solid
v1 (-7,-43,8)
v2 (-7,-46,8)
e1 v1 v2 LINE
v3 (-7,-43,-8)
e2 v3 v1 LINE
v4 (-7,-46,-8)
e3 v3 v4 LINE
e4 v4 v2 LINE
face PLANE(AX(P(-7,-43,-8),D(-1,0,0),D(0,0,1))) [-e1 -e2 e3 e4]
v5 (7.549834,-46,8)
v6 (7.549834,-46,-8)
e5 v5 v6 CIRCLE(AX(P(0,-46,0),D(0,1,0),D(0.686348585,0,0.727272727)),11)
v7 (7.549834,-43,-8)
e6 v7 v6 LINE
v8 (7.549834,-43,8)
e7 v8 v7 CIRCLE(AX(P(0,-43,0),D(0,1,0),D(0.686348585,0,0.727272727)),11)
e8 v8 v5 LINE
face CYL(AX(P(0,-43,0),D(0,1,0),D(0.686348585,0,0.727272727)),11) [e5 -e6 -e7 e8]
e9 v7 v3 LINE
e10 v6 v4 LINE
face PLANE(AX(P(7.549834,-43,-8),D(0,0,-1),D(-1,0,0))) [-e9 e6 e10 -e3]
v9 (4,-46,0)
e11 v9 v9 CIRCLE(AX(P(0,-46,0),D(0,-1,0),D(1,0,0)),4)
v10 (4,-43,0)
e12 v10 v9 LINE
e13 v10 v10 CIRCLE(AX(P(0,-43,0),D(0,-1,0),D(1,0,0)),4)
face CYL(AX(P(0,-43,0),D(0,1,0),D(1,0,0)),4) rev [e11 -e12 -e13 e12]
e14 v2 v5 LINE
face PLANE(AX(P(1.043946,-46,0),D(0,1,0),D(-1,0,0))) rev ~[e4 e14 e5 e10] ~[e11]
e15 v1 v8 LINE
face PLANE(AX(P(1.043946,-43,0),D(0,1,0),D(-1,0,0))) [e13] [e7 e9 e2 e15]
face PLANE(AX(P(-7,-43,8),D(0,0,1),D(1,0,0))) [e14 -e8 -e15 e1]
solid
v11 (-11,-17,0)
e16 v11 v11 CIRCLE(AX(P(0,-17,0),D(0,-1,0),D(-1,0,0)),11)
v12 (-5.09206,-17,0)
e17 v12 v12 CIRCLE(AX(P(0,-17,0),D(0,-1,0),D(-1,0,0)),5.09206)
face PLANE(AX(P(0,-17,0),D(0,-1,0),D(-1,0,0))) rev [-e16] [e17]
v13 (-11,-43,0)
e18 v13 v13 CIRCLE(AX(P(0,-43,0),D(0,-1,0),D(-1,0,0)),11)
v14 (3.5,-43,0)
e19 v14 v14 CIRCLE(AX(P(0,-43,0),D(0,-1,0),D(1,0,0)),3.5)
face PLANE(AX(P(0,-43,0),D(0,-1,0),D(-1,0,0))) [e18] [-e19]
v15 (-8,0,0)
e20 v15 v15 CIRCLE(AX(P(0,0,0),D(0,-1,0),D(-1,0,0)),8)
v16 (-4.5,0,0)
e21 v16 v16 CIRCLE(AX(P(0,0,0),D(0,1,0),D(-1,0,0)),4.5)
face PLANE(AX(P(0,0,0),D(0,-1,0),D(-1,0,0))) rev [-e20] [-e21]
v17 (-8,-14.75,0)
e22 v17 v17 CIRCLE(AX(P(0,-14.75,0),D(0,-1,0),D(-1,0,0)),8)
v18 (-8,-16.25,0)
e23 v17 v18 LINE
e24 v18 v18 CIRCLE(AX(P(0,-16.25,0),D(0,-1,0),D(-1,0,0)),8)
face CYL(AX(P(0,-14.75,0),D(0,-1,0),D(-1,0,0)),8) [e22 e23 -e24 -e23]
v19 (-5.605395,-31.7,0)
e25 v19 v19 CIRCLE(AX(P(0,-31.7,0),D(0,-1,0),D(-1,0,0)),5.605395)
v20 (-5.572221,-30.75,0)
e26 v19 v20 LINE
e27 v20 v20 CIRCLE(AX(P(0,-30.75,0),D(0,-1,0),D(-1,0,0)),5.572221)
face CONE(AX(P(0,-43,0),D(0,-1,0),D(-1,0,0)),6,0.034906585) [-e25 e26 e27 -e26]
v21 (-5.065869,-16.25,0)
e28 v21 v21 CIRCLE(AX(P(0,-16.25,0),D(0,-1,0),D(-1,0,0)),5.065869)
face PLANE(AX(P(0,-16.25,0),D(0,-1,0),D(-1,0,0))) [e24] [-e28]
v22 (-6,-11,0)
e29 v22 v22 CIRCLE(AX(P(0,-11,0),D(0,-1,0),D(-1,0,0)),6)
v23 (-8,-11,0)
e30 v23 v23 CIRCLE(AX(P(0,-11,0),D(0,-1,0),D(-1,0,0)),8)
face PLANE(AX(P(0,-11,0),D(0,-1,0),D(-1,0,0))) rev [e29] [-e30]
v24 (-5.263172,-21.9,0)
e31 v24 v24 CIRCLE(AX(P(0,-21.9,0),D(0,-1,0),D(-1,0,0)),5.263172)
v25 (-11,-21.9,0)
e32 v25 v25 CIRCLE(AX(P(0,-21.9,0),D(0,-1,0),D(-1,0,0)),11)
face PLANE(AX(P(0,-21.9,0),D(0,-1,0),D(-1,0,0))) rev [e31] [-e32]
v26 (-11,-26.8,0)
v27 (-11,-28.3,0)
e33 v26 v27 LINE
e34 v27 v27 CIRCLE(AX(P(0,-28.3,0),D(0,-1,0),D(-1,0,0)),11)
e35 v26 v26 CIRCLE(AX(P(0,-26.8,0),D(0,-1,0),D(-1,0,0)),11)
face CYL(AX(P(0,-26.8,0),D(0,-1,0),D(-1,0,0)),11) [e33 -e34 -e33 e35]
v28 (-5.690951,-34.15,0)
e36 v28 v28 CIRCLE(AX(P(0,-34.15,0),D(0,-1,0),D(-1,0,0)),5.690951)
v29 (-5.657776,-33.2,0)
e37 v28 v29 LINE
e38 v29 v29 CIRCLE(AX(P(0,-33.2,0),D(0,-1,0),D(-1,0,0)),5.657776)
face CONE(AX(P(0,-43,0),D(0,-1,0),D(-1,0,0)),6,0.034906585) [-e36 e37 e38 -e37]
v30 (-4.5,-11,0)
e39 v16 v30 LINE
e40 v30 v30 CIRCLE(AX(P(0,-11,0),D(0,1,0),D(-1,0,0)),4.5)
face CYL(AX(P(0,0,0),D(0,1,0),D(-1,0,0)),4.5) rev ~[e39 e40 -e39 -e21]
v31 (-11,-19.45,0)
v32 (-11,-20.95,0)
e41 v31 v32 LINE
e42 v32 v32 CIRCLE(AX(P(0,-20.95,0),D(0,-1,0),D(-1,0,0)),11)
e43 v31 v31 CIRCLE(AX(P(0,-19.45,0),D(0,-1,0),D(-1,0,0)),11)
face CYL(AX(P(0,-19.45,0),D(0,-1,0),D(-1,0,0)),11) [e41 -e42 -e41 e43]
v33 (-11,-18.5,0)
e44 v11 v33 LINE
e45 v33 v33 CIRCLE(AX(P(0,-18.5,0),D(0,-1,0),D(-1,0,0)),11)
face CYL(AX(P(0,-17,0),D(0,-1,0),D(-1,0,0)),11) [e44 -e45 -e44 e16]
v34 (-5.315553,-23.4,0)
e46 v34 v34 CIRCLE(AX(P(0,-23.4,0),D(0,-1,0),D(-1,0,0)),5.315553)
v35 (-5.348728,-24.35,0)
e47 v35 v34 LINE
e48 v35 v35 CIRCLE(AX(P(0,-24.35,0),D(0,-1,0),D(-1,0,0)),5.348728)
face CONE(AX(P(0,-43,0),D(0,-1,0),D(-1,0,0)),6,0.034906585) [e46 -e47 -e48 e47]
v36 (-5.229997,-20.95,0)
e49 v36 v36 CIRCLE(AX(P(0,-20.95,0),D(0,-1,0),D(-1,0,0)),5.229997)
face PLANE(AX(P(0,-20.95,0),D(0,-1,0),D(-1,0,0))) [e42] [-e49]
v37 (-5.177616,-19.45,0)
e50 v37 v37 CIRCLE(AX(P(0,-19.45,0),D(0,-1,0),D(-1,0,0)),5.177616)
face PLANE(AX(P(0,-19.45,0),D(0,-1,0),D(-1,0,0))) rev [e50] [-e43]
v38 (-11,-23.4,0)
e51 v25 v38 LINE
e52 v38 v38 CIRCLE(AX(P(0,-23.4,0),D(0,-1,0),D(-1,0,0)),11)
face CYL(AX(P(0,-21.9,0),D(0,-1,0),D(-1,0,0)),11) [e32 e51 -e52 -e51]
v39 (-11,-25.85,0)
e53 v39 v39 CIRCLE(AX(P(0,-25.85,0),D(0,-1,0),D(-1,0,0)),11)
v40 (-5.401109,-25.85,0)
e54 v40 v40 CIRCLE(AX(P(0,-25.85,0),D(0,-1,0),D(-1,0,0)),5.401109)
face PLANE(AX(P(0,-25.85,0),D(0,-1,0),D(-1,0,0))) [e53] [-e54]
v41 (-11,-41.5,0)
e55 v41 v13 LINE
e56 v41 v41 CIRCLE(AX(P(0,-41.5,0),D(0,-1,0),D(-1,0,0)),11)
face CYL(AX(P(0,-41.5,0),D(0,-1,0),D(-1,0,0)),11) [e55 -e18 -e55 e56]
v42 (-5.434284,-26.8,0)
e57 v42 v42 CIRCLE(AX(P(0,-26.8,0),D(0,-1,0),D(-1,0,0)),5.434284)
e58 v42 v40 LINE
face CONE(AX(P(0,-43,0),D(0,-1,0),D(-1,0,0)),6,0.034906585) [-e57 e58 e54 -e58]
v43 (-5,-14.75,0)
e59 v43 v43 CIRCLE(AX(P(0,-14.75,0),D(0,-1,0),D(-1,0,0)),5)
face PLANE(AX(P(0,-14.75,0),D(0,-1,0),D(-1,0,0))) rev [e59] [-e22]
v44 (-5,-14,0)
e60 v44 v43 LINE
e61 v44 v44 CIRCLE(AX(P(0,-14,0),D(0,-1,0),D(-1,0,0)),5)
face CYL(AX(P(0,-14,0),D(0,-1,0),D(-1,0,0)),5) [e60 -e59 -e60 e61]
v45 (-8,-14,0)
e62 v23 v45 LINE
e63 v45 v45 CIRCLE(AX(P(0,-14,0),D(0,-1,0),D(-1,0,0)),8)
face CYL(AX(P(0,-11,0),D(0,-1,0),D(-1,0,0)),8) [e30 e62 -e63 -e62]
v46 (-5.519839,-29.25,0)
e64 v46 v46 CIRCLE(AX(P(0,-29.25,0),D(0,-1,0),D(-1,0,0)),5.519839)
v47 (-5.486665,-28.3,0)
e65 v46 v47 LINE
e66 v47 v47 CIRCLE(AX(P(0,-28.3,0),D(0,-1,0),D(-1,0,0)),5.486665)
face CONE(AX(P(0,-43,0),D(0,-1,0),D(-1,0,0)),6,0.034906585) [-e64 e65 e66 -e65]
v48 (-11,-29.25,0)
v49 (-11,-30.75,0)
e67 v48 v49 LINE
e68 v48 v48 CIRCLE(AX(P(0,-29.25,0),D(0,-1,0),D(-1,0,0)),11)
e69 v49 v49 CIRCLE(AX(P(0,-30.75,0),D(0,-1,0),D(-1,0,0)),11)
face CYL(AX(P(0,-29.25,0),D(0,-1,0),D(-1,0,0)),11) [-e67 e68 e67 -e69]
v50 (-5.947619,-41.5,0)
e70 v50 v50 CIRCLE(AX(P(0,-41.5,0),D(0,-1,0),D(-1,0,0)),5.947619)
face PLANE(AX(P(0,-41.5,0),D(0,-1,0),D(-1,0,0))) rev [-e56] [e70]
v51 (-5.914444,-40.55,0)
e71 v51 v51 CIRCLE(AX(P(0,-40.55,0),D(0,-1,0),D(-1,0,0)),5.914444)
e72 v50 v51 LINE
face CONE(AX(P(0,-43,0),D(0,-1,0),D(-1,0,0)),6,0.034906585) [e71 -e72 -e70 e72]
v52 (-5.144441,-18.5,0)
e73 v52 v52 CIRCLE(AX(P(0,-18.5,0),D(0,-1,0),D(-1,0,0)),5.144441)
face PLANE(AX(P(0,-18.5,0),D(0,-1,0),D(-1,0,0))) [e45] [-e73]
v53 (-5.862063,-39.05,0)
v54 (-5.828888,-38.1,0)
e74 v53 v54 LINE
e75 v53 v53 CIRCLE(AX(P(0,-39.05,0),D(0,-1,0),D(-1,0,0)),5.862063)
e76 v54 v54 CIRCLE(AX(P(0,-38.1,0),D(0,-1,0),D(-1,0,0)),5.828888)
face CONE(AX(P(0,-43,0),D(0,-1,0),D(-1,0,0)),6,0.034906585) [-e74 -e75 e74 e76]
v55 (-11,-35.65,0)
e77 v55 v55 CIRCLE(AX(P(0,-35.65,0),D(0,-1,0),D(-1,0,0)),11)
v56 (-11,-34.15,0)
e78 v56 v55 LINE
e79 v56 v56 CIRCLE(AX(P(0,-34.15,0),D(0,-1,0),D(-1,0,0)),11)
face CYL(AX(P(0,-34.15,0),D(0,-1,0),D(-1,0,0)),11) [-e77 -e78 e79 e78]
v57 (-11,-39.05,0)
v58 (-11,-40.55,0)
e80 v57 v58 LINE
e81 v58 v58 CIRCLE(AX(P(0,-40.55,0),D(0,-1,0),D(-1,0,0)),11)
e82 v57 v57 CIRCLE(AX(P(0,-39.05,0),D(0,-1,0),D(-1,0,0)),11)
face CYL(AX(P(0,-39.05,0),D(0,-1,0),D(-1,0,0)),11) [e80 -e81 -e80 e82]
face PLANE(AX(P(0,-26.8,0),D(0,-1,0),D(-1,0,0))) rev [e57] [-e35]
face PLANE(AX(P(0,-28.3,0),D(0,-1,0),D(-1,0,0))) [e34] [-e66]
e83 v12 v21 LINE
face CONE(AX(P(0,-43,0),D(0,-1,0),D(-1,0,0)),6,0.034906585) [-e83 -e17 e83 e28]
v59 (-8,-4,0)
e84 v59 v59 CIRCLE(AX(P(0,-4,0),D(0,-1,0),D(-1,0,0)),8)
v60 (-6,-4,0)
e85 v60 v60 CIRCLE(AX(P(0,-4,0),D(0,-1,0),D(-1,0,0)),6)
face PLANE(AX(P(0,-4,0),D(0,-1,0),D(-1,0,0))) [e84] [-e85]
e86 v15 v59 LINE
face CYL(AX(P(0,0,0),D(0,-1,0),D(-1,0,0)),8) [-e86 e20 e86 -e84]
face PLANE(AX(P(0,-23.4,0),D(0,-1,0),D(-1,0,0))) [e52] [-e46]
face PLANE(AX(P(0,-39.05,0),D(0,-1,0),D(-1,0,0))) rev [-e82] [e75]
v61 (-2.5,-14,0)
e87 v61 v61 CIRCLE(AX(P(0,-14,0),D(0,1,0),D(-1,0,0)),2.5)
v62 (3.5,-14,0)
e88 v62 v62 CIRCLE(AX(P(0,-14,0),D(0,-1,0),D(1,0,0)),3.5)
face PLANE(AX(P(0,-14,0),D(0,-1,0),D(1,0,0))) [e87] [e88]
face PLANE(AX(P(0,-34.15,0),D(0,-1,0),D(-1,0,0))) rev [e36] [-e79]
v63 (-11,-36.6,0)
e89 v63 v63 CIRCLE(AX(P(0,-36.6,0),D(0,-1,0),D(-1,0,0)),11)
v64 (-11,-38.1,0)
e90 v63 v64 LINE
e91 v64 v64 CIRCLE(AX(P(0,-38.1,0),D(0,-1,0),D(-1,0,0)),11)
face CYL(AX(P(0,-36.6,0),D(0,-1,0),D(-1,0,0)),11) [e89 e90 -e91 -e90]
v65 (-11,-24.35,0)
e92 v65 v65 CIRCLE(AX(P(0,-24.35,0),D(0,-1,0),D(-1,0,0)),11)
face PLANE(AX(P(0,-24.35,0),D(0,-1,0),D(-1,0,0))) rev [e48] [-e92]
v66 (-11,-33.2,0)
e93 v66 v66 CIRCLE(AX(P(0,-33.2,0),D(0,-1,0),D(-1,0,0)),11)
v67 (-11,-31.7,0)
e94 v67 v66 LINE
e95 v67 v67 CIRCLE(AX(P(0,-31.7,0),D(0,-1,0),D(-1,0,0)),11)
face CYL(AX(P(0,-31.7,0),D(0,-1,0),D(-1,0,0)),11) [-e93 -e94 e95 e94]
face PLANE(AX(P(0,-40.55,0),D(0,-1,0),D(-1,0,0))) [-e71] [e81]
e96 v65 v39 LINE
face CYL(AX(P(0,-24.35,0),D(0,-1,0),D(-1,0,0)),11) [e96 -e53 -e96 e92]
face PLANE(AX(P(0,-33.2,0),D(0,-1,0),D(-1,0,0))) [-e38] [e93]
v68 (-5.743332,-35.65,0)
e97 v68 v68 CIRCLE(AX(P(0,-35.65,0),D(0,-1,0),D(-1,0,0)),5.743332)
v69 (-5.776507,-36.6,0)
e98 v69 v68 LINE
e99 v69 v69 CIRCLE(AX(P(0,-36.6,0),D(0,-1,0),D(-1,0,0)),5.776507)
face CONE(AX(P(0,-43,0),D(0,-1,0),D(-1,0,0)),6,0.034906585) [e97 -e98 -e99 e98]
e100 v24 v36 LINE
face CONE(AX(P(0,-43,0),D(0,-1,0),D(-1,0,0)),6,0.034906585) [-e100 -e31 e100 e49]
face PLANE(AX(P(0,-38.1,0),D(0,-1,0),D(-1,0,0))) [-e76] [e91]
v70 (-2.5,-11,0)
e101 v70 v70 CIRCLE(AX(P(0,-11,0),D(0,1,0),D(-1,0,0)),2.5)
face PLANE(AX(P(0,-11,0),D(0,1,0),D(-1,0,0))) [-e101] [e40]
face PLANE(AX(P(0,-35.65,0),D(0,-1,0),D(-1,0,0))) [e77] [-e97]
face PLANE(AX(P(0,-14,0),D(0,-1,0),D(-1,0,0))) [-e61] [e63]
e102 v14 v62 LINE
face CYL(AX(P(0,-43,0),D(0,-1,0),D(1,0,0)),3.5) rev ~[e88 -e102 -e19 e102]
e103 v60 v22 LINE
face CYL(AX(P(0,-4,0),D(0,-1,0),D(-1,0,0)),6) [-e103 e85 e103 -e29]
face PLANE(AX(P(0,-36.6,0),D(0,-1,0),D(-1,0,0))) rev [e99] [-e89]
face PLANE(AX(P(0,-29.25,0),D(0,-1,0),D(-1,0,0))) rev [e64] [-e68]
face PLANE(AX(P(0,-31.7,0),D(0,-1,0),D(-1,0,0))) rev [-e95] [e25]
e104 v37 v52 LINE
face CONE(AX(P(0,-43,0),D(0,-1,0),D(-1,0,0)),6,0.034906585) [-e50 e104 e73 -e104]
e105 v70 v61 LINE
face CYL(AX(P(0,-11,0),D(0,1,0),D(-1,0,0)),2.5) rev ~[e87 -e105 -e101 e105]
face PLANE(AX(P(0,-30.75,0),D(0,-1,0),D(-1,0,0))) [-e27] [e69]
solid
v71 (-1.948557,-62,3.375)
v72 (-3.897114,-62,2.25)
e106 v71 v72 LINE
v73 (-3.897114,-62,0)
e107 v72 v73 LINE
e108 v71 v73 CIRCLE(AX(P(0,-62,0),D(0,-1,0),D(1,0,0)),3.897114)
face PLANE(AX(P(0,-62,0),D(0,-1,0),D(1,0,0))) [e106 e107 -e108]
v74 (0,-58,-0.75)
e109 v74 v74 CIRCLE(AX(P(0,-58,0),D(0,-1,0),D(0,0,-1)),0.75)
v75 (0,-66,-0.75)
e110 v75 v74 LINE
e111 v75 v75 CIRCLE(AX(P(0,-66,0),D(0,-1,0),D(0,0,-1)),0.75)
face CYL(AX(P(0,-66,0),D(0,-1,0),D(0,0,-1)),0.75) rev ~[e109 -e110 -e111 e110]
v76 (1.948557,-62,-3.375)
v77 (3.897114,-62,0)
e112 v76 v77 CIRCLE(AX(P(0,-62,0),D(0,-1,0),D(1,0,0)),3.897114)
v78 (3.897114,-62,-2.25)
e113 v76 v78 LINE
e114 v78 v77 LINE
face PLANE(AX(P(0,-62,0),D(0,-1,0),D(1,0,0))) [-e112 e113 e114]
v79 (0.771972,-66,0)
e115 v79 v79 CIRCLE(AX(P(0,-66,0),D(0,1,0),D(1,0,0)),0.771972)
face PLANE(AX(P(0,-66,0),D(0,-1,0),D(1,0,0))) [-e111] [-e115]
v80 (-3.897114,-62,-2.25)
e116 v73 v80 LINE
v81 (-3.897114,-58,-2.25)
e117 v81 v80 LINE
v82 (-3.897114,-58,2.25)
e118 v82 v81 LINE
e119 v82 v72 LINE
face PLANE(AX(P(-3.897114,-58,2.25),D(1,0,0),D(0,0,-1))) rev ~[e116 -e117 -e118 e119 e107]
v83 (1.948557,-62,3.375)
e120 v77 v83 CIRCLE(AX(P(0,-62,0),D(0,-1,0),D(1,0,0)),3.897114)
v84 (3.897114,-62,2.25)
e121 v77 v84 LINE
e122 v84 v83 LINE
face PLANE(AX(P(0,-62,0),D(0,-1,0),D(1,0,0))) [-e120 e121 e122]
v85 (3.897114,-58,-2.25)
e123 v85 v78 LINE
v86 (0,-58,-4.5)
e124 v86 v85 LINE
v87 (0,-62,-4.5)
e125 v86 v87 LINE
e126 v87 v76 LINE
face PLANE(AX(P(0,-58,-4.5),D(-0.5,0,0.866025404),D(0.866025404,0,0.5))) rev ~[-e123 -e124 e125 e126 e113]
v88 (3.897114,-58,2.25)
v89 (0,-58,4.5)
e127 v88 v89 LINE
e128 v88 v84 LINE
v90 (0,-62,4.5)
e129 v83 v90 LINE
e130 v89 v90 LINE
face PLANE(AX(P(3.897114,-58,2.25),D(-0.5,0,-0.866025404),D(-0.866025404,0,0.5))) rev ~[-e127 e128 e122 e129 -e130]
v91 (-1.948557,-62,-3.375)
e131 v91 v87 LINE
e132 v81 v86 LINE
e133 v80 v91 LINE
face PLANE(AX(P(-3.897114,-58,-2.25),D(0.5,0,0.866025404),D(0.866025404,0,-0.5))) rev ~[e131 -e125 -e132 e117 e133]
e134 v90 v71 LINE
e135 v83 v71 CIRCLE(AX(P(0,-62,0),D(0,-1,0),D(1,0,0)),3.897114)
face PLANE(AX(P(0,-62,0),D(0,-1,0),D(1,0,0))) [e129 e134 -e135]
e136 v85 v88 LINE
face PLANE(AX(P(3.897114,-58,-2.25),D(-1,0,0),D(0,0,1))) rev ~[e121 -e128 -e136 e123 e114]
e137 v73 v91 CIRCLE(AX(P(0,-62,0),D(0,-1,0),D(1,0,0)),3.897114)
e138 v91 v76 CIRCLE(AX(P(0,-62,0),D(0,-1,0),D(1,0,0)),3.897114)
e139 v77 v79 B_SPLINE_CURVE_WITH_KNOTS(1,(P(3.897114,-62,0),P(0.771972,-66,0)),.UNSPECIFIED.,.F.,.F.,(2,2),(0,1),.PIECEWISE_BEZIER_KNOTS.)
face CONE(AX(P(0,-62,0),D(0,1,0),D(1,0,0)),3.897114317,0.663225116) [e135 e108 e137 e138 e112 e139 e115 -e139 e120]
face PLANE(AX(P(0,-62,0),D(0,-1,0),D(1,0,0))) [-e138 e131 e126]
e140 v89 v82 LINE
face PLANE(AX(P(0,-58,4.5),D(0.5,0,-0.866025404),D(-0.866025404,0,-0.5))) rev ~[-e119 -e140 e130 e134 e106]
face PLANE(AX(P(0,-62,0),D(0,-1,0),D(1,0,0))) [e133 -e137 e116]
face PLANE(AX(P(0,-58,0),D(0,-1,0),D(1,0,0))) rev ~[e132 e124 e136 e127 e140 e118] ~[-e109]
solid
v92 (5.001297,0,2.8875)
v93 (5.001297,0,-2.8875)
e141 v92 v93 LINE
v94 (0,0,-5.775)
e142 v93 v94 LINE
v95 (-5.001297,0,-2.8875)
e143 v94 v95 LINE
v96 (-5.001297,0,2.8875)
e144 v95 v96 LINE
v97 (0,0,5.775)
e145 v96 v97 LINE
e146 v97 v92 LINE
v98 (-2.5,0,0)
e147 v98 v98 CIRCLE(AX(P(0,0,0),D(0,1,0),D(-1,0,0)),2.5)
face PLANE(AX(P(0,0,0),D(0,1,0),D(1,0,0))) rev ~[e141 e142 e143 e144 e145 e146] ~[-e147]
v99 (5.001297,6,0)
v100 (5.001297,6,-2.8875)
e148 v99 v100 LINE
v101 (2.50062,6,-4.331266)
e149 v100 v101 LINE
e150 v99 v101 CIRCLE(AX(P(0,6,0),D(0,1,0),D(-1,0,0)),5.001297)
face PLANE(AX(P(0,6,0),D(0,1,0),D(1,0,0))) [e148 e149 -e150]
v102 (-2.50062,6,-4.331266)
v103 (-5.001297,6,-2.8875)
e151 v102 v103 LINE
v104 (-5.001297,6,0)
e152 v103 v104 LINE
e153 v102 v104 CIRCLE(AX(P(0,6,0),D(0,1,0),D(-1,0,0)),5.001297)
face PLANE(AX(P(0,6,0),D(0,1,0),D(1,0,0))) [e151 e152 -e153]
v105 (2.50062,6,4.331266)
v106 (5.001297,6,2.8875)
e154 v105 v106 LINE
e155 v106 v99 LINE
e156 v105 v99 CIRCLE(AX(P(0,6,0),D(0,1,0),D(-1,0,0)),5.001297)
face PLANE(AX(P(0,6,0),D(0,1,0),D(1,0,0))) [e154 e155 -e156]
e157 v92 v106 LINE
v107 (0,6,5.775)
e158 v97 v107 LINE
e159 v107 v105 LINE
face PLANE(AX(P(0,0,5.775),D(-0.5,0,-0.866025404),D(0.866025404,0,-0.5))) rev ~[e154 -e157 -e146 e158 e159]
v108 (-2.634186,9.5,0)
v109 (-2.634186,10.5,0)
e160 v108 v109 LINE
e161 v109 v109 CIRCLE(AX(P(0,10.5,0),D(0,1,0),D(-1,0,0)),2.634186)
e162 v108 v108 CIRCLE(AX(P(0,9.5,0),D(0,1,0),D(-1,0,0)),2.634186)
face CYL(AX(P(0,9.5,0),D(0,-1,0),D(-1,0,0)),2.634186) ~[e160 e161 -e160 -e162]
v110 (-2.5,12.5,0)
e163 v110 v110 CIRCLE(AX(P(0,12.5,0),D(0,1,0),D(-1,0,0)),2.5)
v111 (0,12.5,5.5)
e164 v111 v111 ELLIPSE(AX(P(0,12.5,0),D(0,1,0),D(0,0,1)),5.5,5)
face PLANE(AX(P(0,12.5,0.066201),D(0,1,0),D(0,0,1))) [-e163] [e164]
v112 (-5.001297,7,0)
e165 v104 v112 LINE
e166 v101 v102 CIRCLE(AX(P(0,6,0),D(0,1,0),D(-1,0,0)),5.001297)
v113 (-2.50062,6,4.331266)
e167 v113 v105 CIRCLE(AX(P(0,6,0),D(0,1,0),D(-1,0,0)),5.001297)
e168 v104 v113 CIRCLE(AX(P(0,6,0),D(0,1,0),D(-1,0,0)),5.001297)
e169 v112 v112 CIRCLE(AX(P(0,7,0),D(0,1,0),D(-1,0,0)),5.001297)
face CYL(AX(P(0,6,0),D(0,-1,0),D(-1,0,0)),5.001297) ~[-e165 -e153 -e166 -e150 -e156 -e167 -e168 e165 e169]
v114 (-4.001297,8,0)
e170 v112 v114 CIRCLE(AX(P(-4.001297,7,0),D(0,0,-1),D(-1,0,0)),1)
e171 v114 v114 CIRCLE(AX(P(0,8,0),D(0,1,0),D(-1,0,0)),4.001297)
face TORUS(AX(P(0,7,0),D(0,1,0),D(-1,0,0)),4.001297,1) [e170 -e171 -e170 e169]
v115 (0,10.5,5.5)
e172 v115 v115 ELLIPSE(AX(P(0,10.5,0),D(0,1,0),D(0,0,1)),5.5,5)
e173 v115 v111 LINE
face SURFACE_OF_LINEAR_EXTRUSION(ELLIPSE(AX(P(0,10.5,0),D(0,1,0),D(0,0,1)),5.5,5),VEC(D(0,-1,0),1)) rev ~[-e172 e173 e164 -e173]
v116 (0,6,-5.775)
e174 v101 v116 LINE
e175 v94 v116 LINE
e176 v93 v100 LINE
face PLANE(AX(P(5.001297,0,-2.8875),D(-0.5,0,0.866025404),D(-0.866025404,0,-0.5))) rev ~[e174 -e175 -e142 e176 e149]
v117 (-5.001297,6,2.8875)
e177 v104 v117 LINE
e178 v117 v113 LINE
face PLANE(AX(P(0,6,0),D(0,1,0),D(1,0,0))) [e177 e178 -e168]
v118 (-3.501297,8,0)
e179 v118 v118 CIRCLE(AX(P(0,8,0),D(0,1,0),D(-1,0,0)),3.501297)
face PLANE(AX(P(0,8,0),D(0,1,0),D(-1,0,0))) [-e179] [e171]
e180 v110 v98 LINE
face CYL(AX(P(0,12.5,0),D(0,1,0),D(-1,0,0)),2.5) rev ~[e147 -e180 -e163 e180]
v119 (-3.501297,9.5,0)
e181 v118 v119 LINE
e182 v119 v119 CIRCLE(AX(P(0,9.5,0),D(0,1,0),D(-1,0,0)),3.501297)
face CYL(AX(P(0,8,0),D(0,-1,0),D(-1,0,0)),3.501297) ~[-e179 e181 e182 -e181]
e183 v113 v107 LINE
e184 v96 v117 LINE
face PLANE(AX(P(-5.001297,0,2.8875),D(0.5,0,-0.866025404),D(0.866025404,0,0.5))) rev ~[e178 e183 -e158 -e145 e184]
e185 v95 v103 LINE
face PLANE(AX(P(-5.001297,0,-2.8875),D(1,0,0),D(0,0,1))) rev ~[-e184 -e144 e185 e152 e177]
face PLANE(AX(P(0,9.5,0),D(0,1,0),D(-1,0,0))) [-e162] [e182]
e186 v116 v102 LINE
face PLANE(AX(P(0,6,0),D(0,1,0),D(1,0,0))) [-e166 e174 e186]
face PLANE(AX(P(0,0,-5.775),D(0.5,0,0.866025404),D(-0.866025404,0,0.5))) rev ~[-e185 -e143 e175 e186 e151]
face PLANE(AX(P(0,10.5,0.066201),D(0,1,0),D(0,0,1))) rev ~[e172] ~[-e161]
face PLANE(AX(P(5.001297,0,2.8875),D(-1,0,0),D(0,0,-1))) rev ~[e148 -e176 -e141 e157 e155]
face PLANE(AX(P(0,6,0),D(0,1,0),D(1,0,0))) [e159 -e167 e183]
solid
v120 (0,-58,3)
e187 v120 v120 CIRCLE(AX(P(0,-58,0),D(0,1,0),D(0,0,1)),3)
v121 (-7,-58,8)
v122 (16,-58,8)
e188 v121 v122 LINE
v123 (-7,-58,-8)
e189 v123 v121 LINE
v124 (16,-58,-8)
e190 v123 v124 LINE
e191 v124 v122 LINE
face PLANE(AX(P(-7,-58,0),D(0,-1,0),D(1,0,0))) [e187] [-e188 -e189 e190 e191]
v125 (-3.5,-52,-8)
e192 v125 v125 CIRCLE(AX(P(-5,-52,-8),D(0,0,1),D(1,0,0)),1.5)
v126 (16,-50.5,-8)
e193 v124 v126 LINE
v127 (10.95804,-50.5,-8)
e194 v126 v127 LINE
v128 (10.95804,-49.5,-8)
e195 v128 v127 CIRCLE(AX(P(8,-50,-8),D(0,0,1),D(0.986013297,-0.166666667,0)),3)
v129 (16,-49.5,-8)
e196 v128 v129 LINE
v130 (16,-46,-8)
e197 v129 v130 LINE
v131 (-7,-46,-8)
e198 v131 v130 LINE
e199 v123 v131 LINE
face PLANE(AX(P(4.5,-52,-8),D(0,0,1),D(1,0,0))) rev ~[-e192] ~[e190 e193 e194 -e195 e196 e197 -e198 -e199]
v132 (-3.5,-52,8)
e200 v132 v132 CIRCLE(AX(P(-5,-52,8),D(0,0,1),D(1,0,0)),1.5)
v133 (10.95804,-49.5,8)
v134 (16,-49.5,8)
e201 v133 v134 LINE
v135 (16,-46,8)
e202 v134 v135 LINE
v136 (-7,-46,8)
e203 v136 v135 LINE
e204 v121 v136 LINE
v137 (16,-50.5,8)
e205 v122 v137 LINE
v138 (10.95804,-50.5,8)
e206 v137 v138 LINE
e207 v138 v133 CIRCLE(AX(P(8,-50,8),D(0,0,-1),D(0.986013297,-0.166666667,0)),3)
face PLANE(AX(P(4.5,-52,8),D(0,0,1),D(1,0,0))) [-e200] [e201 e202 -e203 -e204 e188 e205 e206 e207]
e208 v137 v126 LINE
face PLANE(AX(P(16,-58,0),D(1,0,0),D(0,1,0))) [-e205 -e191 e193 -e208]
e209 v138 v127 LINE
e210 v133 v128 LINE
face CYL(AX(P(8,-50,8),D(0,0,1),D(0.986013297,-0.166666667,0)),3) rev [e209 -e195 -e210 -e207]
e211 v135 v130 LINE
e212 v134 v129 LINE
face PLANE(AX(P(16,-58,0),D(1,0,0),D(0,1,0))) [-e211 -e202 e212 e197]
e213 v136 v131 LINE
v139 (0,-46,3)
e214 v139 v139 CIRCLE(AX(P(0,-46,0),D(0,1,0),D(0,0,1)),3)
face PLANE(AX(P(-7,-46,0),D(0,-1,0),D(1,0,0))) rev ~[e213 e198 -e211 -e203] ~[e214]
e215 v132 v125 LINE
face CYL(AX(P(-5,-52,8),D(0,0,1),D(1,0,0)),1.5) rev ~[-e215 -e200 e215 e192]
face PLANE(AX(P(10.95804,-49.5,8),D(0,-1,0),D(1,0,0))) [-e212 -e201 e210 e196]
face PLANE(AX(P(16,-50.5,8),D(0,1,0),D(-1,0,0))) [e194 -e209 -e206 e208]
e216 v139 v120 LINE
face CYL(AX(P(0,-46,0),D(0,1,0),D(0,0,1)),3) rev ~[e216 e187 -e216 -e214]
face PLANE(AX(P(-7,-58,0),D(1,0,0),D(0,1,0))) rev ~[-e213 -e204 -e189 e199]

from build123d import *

# Parameters (mm, degrees)
CROQUIS3_R               = 6
SALIENTE_EXTRUIR1_DEPTH  = 28
SALIENTE_EXTRUIR1_DRAFT  = -2
CROQUIS4_R               = 4.5
CORTAR_EXTRUIR1_DEPTH    = 11
CROQUIS5_R               = 2.5
CORTAR_EXTRUIR2_DEPTH    = 36.580893749
CROQUIS6_R               = 3.5
CORTAR_EXTRUIR3_DEPTH    = 29
CROQUIS13_R              = 4
SALIENTE_EXTRUIR6_DEPTH  = 3
CROQUIS7_W               = 23
CROQUIS7_H               = 12
SALIENTE_EXTRUIR2_DEPTH  = 8
CROQUIS8_R               = 1.5
CORTAR_EXTRUIR4_DEPTH    = 64.095166217
CROQUIS9_R               = 3
CORTAR_EXTRUIR5_DEPTH    = 50.929950931
SALIENTE_EXTRUIR3_DEPTH  = 4
CROQUIS11_R              = 3.897114317
SALIENTE_EXTRUIR4_DEPTH  = 4
SALIENTE_EXTRUIR4_TAPER  = 38
SALIENTE_EXTRUIR5_DEPTH  = 6
CROQUIS14_R              = 5.001296707
SALIENTE_EXTRUIR7_DEPTH  = 2
REDONDEO4_R              = 1
CROQUIS15_R              = 3.501296707
SALIENTE_EXTRUIR8_DEPTH  = 1.5
CROQUIS16_R              = 2.634186306
SALIENTE_EXTRUIR9_DEPTH  = 1
CROQUIS17_RX             = 5.5
CROQUIS17_RY             = 5
SALIENTE_EXTRUIR10_DEPTH = 2
CROQUIS18_R              = 2.5
CORTAR_EXTRUIR6_DEPTH    = 14
CROQUIS19_R              = 0.75
CORTAR_EXTRUIR7_DEPTH    = 10


with BuildPart() as part:
    # Croquis1 → Revolución1 (revolve)
    with BuildSketch(Plane.XY):
        Polygon((0, 0), (-8, 0), (-8, -4), (-6, -4), (-6, -11), (-8, -11), (-8, -14), (-5, -14), (-5, -14.75), (-8, -14.75), (-8, -16.25), (-5, -16.25), (-5, -17), (-11, -17), (-11, -18.5), (-5, -18.5), (-5, -19.45), (-11, -19.45), (-11, -20.95), (-5, -20.95), (-5, -21.9), (-11, -21.9), (-11, -23.4), (-5, -23.4), (-5, -24.35), (-11, -24.35), (-11, -25.85), (-5, -25.85), (-5, -26.8), (-11, -26.8), (-11, -28.3), (-5, -28.3), (-5, -29.25), (-11, -29.25), (-11, -30.75), (-5, -30.75), (-5, -31.7), (-11, -31.7), (-11, -33.2), (-5, -33.2), (-5, -34.15), (-11, -34.15), (-11, -35.65), (-5, -35.65), (-5, -36.6), (-11, -36.6), (-11, -38.1), (-5, -38.1), (-5, -39.05), (-11, -39.05), (-11, -40.55), (-5, -40.55), (-5, -41.5), (-11, -41.5), (-11, -43), (0, -43), align=None)
    revolve(axis=Axis((0, 0, 0), (0, -1, 0)))


with BuildPart() as saliente_extruir1_tool:
    # Croquis3 → Saliente-Extruir1 (with draft: the straight prism first)
    with BuildSketch(Plane.XZ.offset(43)):
        with Locations(Location((0, 0, 0), (0, 0, 180))):
            Circle(CROQUIS3_R)
    extrude(amount=-SALIENTE_EXTRUIR1_DEPTH)
    # Saliente-Extruir1: the draft: its side faces are tilted about the plane it starts from
    saliente_extruir1_sides = [saliente_extruir1_tool.faces().sort_by_distance(p)[0] for p in [
        (6, -29, 0),
    ]]
    draft(saliente_extruir1_sides, Plane.XZ.offset(43), SALIENTE_EXTRUIR1_DRAFT)


with BuildPart() as part_1:
    add(part.part)

    # Saliente-Extruir1: add saliente_extruir1_tool
    add(saliente_extruir1_tool.part)

    # Croquis4 → Cortar-Extruir1 (cut)
    with BuildSketch(Plane(origin=(0, 0, 0), x_dir=(1, 0, 0), z_dir=(0, 1, 0))):
        with Locations(Location((0, 0, 0), (0, 0, 180))):
            Circle(CROQUIS4_R)
    extrude(amount=-CORTAR_EXTRUIR1_DEPTH, mode=Mode.SUBTRACT)

    # Croquis5 → Cortar-Extruir2 (cut, through all)
    with BuildSketch(Plane(origin=(0, -11, 0), x_dir=(1, 0, 0), z_dir=(0, 1, 0))):
        with Locations(Location((0, 0, 0), (0, 0, 180))):
            Circle(CROQUIS5_R)
    extrude(amount=-CORTAR_EXTRUIR2_DEPTH, mode=Mode.SUBTRACT)

    # Croquis6 → Cortar-Extruir3 (cut)
    with BuildSketch(Plane.XZ.offset(43)):
        Circle(CROQUIS6_R)
    extrude(amount=-CORTAR_EXTRUIR3_DEPTH, mode=Mode.SUBTRACT)


with BuildPart() as body_2:
    # Croquis13 → Saliente-Extruir6 (new body)
    with BuildSketch(Plane.XZ.offset(43)):
        with BuildLine():
            Line((-7, 8), (7.549834435, 8))
            ThreePointArc((7.549834435, 8), (11, 0), (7.549834435, -8))
            Line((7.549834435, -8), (-7, -8))
            Line((-7, -8), (-7, 8))
        make_face()
        Circle(CROQUIS13_R, mode=Mode.SUBTRACT)
    extrude(amount=SALIENTE_EXTRUIR6_DEPTH)


with BuildPart() as body_3:
    # Croquis7 → Saliente-Extruir2 (new, symmetric)
    with BuildSketch(Plane.XY):
        with Locations((4.5, -52)):
            Rectangle(CROQUIS7_W, CROQUIS7_H)
    extrude(amount=SALIENTE_EXTRUIR2_DEPTH, both=True)

    # Croquis8 → Cortar-Extruir4 (cut, through all)
    with BuildSketch(Plane.XY.offset(8)):
        with Locations((-5, -52)):
            Circle(CROQUIS8_R)
        with BuildLine():
            Line((10.958039892, -49.5), (16, -49.5))
            Line((16, -49.5), (16, -50.5))
            Line((16, -50.5), (10.958039892, -50.5))
            ThreePointArc((10.958039892, -50.5), (5, -50), (10.958039892, -49.5))
        make_face()
    extrude(amount=-CORTAR_EXTRUIR4_DEPTH, mode=Mode.SUBTRACT)

    # Croquis9 → Cortar-Extruir5 (cut, through all)
    with BuildSketch(Plane(origin=(0, -46, 0), x_dir=(1, 0, 0), z_dir=(0, 1, 0))):
        with Locations(Location((0, 0, 0), (0, 0, 270))):
            Circle(CROQUIS9_R)
    extrude(amount=-CORTAR_EXTRUIR5_DEPTH, mode=Mode.SUBTRACT)


with BuildPart() as body_4:
    # Croquis10 → Saliente-Extruir3 (new body)
    with BuildSketch(Plane.XZ.offset(58)):
        Polygon((0, 4.5), (-3.897114317, 2.25), (-3.897114317, -2.25), (0, -4.5), (3.897114317, -2.25), (3.897114317, 2.25), align=None)
    extrude(amount=SALIENTE_EXTRUIR3_DEPTH)

    # Croquis11 → Saliente-Extruir4 (add)
    with BuildSketch(Plane.XZ.offset(62)):
        Circle(CROQUIS11_R)
    extrude(amount=SALIENTE_EXTRUIR4_DEPTH, taper=SALIENTE_EXTRUIR4_TAPER)

    # Croquis19 → Cortar-Extruir7 (cut)
    with BuildSketch(Plane.XZ.offset(66)):
        with Locations(Location((0, 0, 0), (0, 0, 270))):
            Circle(CROQUIS19_R)
    extrude(amount=-CORTAR_EXTRUIR7_DEPTH, mode=Mode.SUBTRACT)


with BuildPart() as body_5:
    # Croquis12 → Saliente-Extruir5 (new body)
    with BuildSketch(Plane(origin=(0, 0, 0), x_dir=(1, 0, 0), z_dir=(0, 1, 0))):
        Polygon((0, 5.775), (-5.001296707, 2.8875), (-5.001296707, -2.8875), (0, -5.775), (5.001296707, -2.8875), (5.001296707, 2.8875), align=None)
    extrude(amount=SALIENTE_EXTRUIR5_DEPTH)

    # Croquis14 → Saliente-Extruir7 (add)
    with BuildSketch(Plane(origin=(0, 6, 0), x_dir=(1, 0, 0), z_dir=(0, 1, 0))):
        with Locations(Location((0, 0, 0), (0, 0, 180))):
            Circle(CROQUIS14_R)
    extrude(amount=SALIENTE_EXTRUIR7_DEPTH)

    # Redondeo4
    redondeo4_edges = [body_5.edges().sort_by_distance(p)[0] for p in [
        (5.001296707, 8, 0),
    ]]
    fillet(redondeo4_edges, radius=REDONDEO4_R)

    # Croquis15 → Saliente-Extruir8 (add)
    with BuildSketch(Plane(origin=(0, 8, 0), x_dir=(1, 0, 0), z_dir=(0, 1, 0))):
        with Locations(Location((0, 0, 0), (0, 0, 180))):
            Circle(CROQUIS15_R)
    extrude(amount=SALIENTE_EXTRUIR8_DEPTH)

    # Croquis16 → Saliente-Extruir9 (add)
    with BuildSketch(Plane(origin=(0, 9.5, 0), x_dir=(1, 0, 0), z_dir=(0, 1, 0))):
        with Locations(Location((0, 0, 0), (0, 0, 180))):
            Circle(CROQUIS16_R)
    extrude(amount=SALIENTE_EXTRUIR9_DEPTH)

    # Croquis17 → Saliente-Extruir10 (add)
    with BuildSketch(Plane(origin=(0, 10.5, 0), x_dir=(1, 0, 0), z_dir=(0, 1, 0))):
        with Locations(Location((0, 0), (0, 0, -90))):
            Ellipse(CROQUIS17_RX, CROQUIS17_RY)
    extrude(amount=SALIENTE_EXTRUIR10_DEPTH)

    # Croquis18 → Cortar-Extruir6 (cut)
    with BuildSketch(Plane(origin=(0, 12.5, 0), x_dir=(1, 0, 0), z_dir=(0, 1, 0))):
        with Locations(Location((0, 0, 0), (0, 0, 180))):
            Circle(CROQUIS18_R)
    extrude(amount=-CORTAR_EXTRUIR6_DEPTH, mode=Mode.SUBTRACT)


solid = Compound([part_1.part, body_2.part, body_3.part, body_4.part, body_5.part])
